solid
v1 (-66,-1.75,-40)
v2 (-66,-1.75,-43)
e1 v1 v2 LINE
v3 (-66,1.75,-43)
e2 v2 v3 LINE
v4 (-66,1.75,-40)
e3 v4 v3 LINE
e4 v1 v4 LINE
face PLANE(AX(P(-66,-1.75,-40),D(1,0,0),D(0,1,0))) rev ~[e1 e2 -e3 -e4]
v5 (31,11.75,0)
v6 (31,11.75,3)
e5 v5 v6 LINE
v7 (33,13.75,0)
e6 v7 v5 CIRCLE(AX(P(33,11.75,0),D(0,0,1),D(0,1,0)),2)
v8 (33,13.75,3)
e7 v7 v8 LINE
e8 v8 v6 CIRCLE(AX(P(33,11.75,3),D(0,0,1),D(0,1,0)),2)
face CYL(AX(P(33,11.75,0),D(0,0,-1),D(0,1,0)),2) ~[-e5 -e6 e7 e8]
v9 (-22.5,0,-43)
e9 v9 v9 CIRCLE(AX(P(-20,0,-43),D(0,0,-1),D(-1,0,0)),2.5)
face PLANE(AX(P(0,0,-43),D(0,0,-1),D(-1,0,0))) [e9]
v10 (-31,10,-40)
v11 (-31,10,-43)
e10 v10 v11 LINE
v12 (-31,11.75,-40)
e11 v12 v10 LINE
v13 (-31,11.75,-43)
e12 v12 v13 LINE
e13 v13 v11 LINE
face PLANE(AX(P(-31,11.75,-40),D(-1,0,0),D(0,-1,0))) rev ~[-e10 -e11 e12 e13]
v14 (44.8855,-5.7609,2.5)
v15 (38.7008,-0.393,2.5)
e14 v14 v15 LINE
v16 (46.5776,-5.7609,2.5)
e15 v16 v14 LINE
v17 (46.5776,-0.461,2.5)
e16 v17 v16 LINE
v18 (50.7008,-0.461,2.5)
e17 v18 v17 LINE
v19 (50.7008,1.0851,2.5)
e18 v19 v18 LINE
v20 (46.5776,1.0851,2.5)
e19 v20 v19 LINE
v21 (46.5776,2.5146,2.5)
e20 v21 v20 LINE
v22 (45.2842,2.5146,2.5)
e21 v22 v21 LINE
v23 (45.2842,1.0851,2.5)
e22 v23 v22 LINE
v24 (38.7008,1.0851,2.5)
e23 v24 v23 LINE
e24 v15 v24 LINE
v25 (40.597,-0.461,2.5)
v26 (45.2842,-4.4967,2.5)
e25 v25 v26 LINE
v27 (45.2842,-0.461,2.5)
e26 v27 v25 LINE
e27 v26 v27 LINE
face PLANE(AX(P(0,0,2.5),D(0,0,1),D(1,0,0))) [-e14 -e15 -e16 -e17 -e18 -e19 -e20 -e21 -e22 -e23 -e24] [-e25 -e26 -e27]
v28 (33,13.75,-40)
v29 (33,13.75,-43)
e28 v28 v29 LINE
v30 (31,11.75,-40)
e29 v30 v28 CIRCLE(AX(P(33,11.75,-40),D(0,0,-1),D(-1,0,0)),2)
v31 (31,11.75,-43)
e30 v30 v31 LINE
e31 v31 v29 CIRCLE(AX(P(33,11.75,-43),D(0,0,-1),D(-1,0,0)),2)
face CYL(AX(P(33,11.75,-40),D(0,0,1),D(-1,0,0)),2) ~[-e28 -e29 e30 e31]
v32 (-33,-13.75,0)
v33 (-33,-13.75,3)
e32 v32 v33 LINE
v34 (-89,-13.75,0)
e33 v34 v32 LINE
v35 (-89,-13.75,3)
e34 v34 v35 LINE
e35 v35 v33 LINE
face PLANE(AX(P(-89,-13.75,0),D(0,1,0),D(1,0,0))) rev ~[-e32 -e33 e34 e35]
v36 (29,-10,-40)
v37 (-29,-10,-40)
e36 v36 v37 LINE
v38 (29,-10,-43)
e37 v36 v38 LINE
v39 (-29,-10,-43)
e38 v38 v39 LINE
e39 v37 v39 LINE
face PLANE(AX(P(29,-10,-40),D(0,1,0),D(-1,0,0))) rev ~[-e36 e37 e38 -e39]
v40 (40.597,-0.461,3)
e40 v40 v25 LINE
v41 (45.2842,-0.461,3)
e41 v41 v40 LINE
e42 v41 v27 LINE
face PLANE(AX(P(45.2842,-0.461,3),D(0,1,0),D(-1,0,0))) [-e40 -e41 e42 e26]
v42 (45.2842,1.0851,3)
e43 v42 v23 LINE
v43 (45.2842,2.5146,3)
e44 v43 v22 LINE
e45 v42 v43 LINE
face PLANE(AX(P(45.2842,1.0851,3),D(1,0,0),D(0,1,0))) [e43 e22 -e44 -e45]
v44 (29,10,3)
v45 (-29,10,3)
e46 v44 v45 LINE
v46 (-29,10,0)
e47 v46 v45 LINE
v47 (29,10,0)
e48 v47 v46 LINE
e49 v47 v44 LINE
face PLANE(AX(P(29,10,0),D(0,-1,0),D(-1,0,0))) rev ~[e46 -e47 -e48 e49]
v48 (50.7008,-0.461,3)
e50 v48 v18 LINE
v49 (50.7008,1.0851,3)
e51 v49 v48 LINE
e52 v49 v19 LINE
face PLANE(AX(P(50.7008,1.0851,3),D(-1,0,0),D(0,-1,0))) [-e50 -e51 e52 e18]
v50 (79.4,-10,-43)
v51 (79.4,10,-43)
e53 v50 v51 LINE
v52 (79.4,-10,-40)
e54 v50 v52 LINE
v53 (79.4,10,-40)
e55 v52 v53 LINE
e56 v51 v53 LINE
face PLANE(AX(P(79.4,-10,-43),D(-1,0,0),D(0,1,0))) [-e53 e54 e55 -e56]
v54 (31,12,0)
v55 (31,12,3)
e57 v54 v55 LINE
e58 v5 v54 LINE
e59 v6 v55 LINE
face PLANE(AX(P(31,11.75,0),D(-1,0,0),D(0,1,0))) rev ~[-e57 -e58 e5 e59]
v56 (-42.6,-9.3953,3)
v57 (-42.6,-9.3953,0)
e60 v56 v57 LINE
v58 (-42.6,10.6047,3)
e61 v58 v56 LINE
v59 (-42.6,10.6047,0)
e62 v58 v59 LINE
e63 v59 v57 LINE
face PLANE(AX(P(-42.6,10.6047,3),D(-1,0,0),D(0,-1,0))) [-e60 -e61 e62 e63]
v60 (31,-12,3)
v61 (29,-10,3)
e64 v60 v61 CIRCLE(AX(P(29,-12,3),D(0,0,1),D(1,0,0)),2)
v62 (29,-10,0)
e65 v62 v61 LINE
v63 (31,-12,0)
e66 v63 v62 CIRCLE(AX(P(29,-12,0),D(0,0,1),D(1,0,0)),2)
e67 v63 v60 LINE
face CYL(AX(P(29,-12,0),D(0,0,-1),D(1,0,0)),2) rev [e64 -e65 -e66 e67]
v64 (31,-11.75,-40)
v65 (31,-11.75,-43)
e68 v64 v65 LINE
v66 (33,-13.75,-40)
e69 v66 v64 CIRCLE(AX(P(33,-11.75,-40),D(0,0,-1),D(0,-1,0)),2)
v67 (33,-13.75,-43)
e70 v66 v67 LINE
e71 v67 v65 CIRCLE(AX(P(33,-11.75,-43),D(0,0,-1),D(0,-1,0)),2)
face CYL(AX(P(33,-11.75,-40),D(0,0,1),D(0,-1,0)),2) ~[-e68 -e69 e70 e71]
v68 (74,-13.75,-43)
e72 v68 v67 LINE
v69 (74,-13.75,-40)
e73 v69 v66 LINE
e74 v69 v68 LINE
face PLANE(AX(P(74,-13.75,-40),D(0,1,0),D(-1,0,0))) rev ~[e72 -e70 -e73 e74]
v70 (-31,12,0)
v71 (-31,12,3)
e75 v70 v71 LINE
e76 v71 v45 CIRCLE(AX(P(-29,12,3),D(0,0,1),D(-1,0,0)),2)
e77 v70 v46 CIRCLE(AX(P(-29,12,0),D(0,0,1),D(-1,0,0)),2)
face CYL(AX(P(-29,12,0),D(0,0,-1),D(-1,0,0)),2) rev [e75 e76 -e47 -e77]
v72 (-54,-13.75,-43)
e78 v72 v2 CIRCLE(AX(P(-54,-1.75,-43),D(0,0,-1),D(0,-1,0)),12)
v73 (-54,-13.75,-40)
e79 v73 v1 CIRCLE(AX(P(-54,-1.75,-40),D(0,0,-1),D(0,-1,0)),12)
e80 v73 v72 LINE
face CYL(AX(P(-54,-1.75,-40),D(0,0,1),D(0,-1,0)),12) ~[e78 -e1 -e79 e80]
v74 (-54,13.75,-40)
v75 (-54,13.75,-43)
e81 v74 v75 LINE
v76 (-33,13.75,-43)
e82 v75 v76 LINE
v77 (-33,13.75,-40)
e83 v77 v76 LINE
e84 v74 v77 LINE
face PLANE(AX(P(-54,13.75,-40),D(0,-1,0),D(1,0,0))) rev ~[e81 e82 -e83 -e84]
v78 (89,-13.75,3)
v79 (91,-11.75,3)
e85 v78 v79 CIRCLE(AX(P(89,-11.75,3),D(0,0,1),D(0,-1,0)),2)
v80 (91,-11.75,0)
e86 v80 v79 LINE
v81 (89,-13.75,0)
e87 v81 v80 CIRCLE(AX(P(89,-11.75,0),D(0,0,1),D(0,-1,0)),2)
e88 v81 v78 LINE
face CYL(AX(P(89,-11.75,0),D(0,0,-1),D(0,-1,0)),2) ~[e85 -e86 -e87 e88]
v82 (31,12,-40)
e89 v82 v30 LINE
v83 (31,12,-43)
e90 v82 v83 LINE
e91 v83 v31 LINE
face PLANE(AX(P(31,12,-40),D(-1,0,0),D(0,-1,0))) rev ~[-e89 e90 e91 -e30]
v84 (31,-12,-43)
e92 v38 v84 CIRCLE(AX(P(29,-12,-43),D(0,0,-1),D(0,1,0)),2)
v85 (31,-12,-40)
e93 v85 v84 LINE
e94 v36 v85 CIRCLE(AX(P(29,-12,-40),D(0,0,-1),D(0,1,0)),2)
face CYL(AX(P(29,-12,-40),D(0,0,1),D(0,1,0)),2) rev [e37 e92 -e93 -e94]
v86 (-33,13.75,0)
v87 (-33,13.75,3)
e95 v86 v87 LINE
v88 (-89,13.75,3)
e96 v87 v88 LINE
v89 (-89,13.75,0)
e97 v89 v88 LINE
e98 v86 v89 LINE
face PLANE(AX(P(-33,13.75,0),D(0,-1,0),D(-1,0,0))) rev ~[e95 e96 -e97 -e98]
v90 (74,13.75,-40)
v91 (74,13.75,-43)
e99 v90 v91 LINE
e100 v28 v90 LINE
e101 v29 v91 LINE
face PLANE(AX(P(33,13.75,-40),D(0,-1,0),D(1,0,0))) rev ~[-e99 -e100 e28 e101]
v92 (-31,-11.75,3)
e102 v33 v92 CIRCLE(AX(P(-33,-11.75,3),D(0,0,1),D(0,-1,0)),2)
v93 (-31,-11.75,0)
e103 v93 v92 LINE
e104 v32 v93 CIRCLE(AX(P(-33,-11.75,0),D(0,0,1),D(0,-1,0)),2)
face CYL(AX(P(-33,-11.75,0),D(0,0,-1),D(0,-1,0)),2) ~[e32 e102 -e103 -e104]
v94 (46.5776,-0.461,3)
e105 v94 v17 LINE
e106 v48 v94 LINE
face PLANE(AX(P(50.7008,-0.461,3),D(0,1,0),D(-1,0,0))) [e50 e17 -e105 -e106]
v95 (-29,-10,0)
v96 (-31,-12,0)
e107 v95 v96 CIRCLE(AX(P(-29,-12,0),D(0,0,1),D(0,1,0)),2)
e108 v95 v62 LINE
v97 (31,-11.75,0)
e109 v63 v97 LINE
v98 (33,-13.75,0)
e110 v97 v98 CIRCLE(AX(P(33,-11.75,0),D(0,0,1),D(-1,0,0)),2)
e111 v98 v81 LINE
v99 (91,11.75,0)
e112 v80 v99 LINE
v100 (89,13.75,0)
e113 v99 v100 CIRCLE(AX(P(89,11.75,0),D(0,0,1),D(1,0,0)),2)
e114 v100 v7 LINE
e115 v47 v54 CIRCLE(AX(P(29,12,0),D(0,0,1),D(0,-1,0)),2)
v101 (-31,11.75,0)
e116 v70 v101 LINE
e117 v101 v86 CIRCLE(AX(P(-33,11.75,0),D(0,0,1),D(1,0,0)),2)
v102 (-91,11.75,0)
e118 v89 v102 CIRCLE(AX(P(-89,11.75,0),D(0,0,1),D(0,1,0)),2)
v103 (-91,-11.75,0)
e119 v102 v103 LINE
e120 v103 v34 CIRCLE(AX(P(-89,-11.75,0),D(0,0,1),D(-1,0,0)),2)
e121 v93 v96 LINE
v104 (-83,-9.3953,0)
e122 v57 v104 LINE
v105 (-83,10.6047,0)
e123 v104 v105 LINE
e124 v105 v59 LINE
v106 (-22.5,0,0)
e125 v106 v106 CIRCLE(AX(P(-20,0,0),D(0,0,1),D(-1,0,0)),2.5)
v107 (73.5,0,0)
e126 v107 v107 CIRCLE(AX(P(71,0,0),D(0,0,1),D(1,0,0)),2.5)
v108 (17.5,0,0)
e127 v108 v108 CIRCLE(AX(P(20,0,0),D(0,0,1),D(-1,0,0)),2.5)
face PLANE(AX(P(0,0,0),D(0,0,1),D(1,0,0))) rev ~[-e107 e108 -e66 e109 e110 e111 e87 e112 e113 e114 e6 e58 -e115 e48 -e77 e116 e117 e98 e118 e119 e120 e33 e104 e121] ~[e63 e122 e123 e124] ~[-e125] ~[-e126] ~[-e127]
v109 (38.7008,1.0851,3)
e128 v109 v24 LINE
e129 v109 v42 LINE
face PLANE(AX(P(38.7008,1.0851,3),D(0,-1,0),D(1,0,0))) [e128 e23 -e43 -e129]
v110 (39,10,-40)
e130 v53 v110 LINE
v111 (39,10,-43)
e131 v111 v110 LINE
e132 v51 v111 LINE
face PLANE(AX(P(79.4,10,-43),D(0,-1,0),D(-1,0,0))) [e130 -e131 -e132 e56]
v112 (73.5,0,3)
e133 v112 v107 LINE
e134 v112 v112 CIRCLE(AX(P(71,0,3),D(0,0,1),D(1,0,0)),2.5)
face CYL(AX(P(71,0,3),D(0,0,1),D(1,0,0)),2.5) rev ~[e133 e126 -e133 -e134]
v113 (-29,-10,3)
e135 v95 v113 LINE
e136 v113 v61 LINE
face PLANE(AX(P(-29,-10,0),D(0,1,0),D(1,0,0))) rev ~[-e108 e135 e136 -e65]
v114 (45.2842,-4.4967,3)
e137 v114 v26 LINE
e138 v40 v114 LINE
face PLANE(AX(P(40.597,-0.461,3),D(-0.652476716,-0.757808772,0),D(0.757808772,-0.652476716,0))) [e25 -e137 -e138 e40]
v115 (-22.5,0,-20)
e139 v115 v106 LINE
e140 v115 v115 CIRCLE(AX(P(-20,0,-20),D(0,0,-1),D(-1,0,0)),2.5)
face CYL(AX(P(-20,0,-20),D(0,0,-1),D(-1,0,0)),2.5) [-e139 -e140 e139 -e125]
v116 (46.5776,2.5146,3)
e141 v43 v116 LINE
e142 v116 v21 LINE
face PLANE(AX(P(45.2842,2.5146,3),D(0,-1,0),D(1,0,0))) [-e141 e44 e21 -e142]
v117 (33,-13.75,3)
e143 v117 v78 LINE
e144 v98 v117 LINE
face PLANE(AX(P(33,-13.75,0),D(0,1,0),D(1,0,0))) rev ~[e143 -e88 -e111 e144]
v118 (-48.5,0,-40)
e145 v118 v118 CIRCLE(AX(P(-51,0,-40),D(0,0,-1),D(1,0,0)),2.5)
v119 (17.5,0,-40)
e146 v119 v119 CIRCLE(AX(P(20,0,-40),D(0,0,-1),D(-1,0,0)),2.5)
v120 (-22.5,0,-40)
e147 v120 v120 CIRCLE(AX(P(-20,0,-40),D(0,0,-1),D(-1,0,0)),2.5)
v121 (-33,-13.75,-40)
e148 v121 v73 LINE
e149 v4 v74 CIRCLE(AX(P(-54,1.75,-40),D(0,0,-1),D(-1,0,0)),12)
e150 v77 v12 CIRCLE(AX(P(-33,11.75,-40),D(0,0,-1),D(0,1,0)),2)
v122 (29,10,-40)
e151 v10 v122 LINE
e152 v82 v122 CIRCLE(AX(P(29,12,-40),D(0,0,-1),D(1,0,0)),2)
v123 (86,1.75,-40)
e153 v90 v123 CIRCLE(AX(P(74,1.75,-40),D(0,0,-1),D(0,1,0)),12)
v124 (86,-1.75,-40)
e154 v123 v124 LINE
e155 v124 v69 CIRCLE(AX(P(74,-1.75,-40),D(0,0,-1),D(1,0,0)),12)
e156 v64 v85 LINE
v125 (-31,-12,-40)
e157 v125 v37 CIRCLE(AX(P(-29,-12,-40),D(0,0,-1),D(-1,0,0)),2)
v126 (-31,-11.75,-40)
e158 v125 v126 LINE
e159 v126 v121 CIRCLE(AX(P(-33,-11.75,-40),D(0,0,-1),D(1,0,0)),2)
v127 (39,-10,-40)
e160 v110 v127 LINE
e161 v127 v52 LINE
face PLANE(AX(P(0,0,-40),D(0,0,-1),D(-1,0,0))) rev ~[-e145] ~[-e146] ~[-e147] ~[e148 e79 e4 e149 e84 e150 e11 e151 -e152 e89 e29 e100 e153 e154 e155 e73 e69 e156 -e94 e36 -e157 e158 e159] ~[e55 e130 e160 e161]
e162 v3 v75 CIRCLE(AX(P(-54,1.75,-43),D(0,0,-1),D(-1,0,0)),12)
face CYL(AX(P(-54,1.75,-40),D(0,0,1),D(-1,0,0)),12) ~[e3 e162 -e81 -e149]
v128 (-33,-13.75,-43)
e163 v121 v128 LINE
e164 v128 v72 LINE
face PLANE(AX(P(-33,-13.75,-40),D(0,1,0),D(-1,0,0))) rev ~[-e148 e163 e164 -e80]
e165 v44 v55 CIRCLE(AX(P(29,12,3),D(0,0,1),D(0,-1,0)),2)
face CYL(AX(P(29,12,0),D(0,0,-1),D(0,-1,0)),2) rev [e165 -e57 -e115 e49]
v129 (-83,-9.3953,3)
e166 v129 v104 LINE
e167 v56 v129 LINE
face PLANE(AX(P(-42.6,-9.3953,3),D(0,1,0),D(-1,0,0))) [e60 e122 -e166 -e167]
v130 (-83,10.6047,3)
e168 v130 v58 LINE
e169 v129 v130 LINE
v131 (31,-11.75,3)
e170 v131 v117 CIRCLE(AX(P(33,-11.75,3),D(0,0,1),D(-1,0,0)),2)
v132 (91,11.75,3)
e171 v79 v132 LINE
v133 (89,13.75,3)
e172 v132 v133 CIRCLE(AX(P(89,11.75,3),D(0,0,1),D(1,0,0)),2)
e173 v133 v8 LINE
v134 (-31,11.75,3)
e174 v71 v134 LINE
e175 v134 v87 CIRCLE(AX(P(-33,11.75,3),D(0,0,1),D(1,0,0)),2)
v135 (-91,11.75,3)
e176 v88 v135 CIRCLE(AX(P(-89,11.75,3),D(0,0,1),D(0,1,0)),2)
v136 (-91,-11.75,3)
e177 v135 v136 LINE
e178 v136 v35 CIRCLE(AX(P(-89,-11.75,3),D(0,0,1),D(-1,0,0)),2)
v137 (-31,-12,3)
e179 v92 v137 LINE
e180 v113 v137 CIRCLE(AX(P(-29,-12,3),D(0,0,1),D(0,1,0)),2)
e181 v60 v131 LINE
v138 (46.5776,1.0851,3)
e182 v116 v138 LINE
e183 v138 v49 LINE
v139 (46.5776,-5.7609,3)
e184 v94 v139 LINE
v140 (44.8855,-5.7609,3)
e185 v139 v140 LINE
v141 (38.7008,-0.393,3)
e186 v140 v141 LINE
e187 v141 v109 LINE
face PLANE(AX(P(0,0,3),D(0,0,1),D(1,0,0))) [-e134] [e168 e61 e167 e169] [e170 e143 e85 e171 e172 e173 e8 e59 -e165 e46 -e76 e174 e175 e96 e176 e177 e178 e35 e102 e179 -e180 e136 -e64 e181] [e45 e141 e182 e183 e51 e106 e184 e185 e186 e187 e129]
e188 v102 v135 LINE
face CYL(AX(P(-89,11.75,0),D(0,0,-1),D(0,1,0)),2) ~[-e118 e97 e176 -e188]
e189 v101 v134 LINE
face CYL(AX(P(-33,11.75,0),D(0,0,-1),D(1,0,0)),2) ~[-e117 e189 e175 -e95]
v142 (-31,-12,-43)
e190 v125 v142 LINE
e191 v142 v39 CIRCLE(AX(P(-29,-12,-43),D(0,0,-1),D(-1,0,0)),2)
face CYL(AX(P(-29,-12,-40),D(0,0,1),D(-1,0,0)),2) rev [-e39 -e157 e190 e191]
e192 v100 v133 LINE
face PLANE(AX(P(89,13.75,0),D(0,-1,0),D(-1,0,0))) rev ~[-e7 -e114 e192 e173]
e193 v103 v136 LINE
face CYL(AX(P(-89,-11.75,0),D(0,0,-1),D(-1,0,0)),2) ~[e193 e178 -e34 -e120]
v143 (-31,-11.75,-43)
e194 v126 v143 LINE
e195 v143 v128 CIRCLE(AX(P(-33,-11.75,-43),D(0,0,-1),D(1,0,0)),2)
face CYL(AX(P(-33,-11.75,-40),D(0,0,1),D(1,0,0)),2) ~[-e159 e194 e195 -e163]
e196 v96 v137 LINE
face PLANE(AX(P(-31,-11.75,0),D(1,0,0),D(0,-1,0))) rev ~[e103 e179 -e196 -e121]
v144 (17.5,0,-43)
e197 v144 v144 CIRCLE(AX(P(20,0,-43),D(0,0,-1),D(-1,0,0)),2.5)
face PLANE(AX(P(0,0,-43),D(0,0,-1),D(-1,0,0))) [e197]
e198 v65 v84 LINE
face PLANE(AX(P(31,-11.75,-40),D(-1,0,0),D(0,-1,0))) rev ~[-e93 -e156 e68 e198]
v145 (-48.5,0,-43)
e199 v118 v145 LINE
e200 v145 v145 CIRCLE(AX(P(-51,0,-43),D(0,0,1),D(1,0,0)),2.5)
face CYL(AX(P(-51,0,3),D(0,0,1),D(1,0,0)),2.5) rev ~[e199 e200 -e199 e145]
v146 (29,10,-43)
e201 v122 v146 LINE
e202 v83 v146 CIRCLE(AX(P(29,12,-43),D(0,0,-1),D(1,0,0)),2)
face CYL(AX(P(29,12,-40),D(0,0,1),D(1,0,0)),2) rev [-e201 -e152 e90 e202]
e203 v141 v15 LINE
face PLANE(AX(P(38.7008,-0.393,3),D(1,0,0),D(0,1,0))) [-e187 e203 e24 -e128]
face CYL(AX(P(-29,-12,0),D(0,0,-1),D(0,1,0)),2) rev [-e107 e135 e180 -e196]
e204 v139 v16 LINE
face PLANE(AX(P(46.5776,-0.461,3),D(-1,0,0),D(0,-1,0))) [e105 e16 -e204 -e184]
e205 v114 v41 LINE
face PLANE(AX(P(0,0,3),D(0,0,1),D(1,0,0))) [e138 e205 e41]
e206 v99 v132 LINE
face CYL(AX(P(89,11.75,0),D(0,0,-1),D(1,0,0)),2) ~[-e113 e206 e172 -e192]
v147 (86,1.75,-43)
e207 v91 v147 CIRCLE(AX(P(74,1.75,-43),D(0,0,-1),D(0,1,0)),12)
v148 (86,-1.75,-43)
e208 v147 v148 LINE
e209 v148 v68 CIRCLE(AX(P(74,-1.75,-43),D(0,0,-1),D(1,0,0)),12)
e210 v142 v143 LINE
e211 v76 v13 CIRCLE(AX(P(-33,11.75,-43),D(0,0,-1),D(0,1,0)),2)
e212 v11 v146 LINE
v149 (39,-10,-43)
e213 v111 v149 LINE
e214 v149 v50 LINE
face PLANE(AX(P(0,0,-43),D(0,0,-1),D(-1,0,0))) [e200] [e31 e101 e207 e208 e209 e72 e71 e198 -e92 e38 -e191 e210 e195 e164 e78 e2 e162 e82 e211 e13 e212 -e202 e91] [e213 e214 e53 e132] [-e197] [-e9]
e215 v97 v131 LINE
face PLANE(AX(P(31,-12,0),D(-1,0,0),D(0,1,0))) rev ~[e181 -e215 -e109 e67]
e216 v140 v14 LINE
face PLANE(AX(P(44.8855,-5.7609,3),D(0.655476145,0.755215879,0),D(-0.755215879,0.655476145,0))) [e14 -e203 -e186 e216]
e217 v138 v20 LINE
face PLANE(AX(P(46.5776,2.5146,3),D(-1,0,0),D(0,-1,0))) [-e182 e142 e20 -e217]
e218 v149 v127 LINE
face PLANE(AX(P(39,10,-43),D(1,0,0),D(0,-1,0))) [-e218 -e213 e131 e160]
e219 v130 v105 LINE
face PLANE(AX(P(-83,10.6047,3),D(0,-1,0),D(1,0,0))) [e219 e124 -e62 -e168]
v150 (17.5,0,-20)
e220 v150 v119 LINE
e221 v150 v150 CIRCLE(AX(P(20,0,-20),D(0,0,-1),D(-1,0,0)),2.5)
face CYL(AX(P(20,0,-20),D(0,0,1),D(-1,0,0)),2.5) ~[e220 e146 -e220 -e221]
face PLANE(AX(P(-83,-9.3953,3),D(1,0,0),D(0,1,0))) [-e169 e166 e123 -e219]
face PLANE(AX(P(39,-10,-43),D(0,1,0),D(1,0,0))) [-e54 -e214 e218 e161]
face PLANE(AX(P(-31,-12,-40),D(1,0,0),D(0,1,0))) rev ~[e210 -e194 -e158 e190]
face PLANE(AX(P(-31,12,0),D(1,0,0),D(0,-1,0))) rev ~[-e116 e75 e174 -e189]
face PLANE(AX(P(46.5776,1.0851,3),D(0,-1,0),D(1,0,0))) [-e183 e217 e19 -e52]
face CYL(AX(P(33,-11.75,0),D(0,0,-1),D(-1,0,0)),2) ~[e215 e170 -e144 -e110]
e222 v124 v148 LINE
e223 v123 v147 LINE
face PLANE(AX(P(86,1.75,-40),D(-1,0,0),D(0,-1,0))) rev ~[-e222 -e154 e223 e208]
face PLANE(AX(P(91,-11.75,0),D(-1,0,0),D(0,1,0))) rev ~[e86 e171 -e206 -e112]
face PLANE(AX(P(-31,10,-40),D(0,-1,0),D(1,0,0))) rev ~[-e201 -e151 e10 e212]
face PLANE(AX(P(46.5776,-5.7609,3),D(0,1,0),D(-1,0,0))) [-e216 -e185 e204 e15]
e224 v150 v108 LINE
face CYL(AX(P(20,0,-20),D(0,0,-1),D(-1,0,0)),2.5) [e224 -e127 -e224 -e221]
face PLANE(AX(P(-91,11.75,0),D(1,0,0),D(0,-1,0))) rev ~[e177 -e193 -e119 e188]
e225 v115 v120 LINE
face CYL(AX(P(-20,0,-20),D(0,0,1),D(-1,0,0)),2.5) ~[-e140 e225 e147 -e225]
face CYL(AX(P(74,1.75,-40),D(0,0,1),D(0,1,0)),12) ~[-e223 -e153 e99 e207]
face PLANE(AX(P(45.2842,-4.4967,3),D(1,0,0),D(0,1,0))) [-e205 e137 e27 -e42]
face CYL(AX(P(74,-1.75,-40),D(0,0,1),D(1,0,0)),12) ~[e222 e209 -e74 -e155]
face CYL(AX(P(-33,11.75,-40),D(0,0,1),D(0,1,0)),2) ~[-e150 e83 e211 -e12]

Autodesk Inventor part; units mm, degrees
ref_plane "YZ Plane" through (0, 0, 0) normal (1, 0, 0) x (0, 1, 0)
sketch "Boceto1" plane through (0, 0, 0) normal (0, 0, 1) x (1, 0, 0)
  line L0 (-91, 11.75) -> (-91, -11.75)
  line L1 (-89, -13.75) -> (-33, -13.75)
  line L2 (-31, -11.75) -> (-31, -12)
  line L3 (-29, -10) -> (29, -10)
  line L4 (31, -12) -> (31, -11.75)
  line L5 (33, -13.75) -> (89, -13.75)
  line L6 (91, -11.75) -> (91, 11.75)
  line L7 (89, 13.75) -> (33, 13.75)
  line L8 (31, 11.75) -> (31, 12)
  line L9 (29, 10) -> (-29, 10)
  line L10 (-31, 12) -> (-31, 11.75)
  line L11 (-33, 13.75) -> (-89, 13.75)
  line L12 (0, 0) -> (0, 52.9432) construction
  line L13 (0, 0) -> (-66, 0) construction
  arc A0 (-89, 13.75) -> (-91, 11.75) centre (-89, 11.75) ccw
  arc A1 (-91, -11.75) -> (-89, -13.75) centre (-89, -11.75) ccw
  arc A2 (-33, -13.75) -> (-31, -11.75) centre (-33, -11.75) ccw
  arc A3 (-29, -10) -> (-31, -12) centre (-29, -12) ccw
  arc A4 (-31, 12) -> (-29, 10) centre (-29, 12) ccw
  arc A5 (-31, 11.75) -> (-33, 13.75) centre (-33, 11.75) ccw
  arc A6 (29, 10) -> (31, 12) centre (29, 12) ccw
  arc A7 (33, 13.75) -> (31, 11.75) centre (33, 11.75) ccw
  arc A8 (31, -12) -> (29, -10) centre (29, -12) ccw
  arc A9 (31, -11.75) -> (33, -13.75) centre (33, -11.75) ccw
  arc A10 (89, -13.75) -> (91, -11.75) centre (89, -11.75) ccw
  arc A11 (91, 11.75) -> (89, 13.75) centre (89, 11.75) ccw
  point P0 (-91, 13.75)
  point P1 (-91, -13.75)
  point P2 (-31, -13.75)
  point P3 (91, -13.75)
  point P4 (91, 13.75)
  point P5 (31, 13.75)
  point P6 (31, 10)
  point P7 (-31, 10)
  point P8 (-31, 13.75)
  dimension "d0" = 182
  dimension "d1" = 60
  dimension "d3" = 27.5
  dimension "d4" = 20
  dimension "d5" = 2
  dimension "d6" = 27.5
  dimension "d7" = 2
extrude "Extrusión1" add sketch "Boceto1" along normal blind 3
sketch "Boceto2" plane through (0, 0, 3) normal (0, 0, 1) x (1, 0, 0)
  circle A0 centre (-20, 0) radius 2.5
  circle A1 centre (20, 0) radius 2.5
  line L0 (0, 0) -> (0, 32) construction
  dimension "d10" = 5
  dimension "d11" = 5
  dimension "d12" = 40
extrude "Extrusión2" cut sketch "Boceto2" against normal blind 3
ref_plane "Plano de trabajo1" through (0, 0, -40) normal (0, 0, -1) x (-1, 0, 0)
sketch "Boceto3" plane through (0, 0, -40) normal (0, 0, -1) x (-1, 0, 0)
  line L0 (-86, 1.75) -> (-86, -1.75)
  line L1 (-74, -13.75) -> (-33, -13.75)
  line L2 (-31, -11.75) -> (-31, -12)
  line L3 (-29, -10) -> (29, -10)
  line L4 (31, -12) -> (31, -11.75)
  line L5 (33, -13.75) -> (54, -13.75)
  line L6 (66, -1.75) -> (66, 1.75)
  line L7 (54, 13.75) -> (33, 13.75)
  line L8 (31, 11.75) -> (31, 10)
  line L9 (31, 10) -> (-29, 10)
  line L10 (-31, 12) -> (-31, 11.75)
  line L11 (-33, 13.75) -> (-74, 13.75)
  line L12 (0, 0) -> (0, 26) construction
  line L13 (0, 0) -> (49, 0) construction
  arc A0 (-74, 13.75) -> (-86, 1.75) centre (-74, 1.75) ccw
  arc A1 (-86, -1.75) -> (-74, -13.75) centre (-74, -1.75) ccw
  arc A2 (66, 1.75) -> (54, 13.75) centre (54, 1.75) ccw
  arc A3 (54, -13.75) -> (66, -1.75) centre (54, -1.75) ccw
  arc A4 (-31, 11.75) -> (-33, 13.75) centre (-33, 11.75) ccw
  arc A5 (-31, 12) -> (-29, 10) centre (-29, 12) ccw
  arc A6 (-29, -10) -> (-31, -12) centre (-29, -12) ccw
  arc A7 (-33, -13.75) -> (-31, -11.75) centre (-33, -11.75) ccw
  arc A8 (33, 13.75) -> (31, 11.75) centre (33, 11.75) ccw
  arc A9 (31, -11.75) -> (33, -13.75) centre (33, -11.75) ccw
  arc A10 (31, -12) -> (29, -10) centre (29, -12) ccw
  point P0 (-86, 13.75)
  point P1 (-86, -13.75)
  point P2 (66, -13.75)
  point P3 (66, 13.75)
  point P4 (31, 13.75)
  point P5 (-31, 10)
  point P6 (-31, 13.75)
  dimension "d16" = 27.5
  dimension "d17" = 27.5
  dimension "d18" = 152
  dimension "d19" = 55
  dimension "d21" = 62
  dimension "d22" = 20
  dimension "d23" = 12
  dimension "d24" = 2
extrude "Extrusión3" add sketch "Boceto3" along normal blind 3
sketch "Boceto4" plane through (0, 0, -43) normal (0, 0, -1) x (-1, 0, 0)
  circle A0 centre (-20, 0) radius 2.5 projected
  circle A1 centre (20, 0) radius 2.5 projected
  point P0 (0, 0)
extrude "Extrusión4" cut sketch "Boceto4" against normal blind 3
sketch "Boceto5" plane through (0, 0, 3) normal (0, 0, 1) x (1, 0, 0)
  line L0 (-51, 21) -> (-51, -25) construction
  line L1 (71, 20) -> (71, -24) construction
  line L2 (31, -12) -> (31, -11.75) projected
  circle A0 centre (-51, 0) radius 2.5
  circle A1 centre (71, 0) radius 2.5
  line L3 (-91, 11.75) -> (-91, -11.75) projected
  point P0 (31, -11.875)
  dimension "d32" = 40
  dimension "d34" = 5
  dimension "d35" = 5
  dimension "d46" = 40
extrude "Extrusión5" cut sketch "Boceto5" against normal up to surface (46 mm away)
sketch "Boceto6" plane through (0, 0, -43) normal (0, 0, -1) x (-1, 0, 0)
  circle A0 centre (51, 0) radius 2.5
  line L0 (31, 11.75) -> (31, 10) projected
  point P0 (0, 0)
  point P1 (31, 10.875)
  dimension "d38" = 5
  dimension "d39" = 20
extrude "Extrusión6" cut sketch "Boceto6" against normal blind 3
ref_plane "Plano de trabajo2" through (0, 0, -20) normal (0, 0, -1) x (-1, 0, 0)
sketch "Boceto7" plane through (0, 0, -20) normal (0, 0, -1) x (-1, 0, 0)
  circle A0 centre (20, 0) radius 2.5 projected
  circle A1 centre (-20, 0) radius 2.5 projected
  point P0 (0, 0)
extrude "Extrusión7" add sketch "Boceto7" along normal mid plane 46
sketch "Boceto8" plane through (0, 0, 3) normal (0, 0, 1) x (1, 0, 0)
  line L0 (38.7008, -6.0818) -> (38.7008, 17.3731) construction
  line L1 (38.7008, 17.3731) -> (57.2312, 17.3731) construction
  line L2 (57.2312, 17.3731) -> (57.2312, -6.0818) construction
  line L3 (57.2312, -6.0818) -> (38.7008, -6.0818) construction
  line L4 (46.5776, 2.5146) -> (46.5776, 1.0851)
  line L5 (46.5776, 1.0851) -> (50.7008, 1.0851)
  line L6 (50.7008, 1.0851) -> (50.7008, -0.461)
  line L7 (50.7008, -0.461) -> (46.5776, -0.461)
  line L8 (46.5776, -0.461) -> (46.5776, -5.7609)
  line L9 (46.5776, -5.7609) -> (44.8855, -5.7609)
  line L10 (44.8855, -5.7609) -> (38.7008, -0.393)
  line L11 (38.7008, -0.393) -> (38.7008, 1.0851)
  line L12 (38.7008, 1.0851) -> (45.2842, 1.0851)
  line L13 (45.2842, 1.0851) -> (45.2842, 2.5146)
  line L14 (45.2842, 2.5146) -> (46.5776, 2.5146)
  line L15 (45.2842, -0.461) -> (40.597, -0.461)
  line L16 (40.597, -0.461) -> (45.2842, -4.4967)
  line L17 (45.2842, -4.4967) -> (45.2842, -0.461)
  point P0 (0, 0)
extrude "Extrusión8" cut sketch "Boceto8" against normal blind 0.5
sketch "Boceto9" plane through (0, 0, 3) normal (0, 0, 1) x (1, 0, 0)
  line L0 (-83, 10.6047) -> (-42.6, 10.6047)
  line L1 (-42.6, 10.6047) -> (-42.6, -9.3953)
  line L2 (-42.6, -9.3953) -> (-83, -9.3953)
  line L3 (-83, -9.3953) -> (-83, 10.6047)
  line L4 (-91, 11.75) -> (-91, -11.75) construction
  point P0 (0, 0)
  dimension "d47" = 40.4
  dimension "d48" = 20
  dimension "d49" = 8
extrude "Extrusión9" cut sketch "Boceto9" against normal up to surface (3 mm away)
sketch "Boceto10" plane through (0, 0, -43) normal (0, 0, -1) x (-1, 0, 0)
  line L0 (-79.4, 10) -> (-39, 10)
  line L1 (-39, 10) -> (-39, -10)
  line L2 (-39, -10) -> (-79.4, -10)
  line L3 (-79.4, -10) -> (-79.4, 10)
  line L4 (-71, 0) -> (-43, 0) construction
  line L5 (-31, 12) -> (-31, 11.75) projected
  point P0 (0, 0)
  point P1 (-31, 11.875)
  dimension "d52" = 40.4
  dimension "d53" = 20
  dimension "d54" = 8
extrude "Extrusión10" cut sketch "Boceto10" against normal blind 3
equation "\"Radio_pliegue\" = Grosor"
equation "\"Anchura_desahogo_plegado\" = Grosor"
equation "\"Profundidad_desahogo_plegado\" = 0.5 * Grosor"
equation "\"Tamaño_destalonado\" = 4 * Grosor"
equation "\"Remanente_mínimo\" = 2 * Grosor"
equation "\"Radiodetransición\" = Radio_pliegue"
equation "\"Tamaño_de_radio_de_Jacobi\" = Radio_pliegue"
equation "\"TamañoSeparación\" = Grosor"
equation "\"Grosor\" = 0.5"
properties part number "Pieza_eslabon_4"
